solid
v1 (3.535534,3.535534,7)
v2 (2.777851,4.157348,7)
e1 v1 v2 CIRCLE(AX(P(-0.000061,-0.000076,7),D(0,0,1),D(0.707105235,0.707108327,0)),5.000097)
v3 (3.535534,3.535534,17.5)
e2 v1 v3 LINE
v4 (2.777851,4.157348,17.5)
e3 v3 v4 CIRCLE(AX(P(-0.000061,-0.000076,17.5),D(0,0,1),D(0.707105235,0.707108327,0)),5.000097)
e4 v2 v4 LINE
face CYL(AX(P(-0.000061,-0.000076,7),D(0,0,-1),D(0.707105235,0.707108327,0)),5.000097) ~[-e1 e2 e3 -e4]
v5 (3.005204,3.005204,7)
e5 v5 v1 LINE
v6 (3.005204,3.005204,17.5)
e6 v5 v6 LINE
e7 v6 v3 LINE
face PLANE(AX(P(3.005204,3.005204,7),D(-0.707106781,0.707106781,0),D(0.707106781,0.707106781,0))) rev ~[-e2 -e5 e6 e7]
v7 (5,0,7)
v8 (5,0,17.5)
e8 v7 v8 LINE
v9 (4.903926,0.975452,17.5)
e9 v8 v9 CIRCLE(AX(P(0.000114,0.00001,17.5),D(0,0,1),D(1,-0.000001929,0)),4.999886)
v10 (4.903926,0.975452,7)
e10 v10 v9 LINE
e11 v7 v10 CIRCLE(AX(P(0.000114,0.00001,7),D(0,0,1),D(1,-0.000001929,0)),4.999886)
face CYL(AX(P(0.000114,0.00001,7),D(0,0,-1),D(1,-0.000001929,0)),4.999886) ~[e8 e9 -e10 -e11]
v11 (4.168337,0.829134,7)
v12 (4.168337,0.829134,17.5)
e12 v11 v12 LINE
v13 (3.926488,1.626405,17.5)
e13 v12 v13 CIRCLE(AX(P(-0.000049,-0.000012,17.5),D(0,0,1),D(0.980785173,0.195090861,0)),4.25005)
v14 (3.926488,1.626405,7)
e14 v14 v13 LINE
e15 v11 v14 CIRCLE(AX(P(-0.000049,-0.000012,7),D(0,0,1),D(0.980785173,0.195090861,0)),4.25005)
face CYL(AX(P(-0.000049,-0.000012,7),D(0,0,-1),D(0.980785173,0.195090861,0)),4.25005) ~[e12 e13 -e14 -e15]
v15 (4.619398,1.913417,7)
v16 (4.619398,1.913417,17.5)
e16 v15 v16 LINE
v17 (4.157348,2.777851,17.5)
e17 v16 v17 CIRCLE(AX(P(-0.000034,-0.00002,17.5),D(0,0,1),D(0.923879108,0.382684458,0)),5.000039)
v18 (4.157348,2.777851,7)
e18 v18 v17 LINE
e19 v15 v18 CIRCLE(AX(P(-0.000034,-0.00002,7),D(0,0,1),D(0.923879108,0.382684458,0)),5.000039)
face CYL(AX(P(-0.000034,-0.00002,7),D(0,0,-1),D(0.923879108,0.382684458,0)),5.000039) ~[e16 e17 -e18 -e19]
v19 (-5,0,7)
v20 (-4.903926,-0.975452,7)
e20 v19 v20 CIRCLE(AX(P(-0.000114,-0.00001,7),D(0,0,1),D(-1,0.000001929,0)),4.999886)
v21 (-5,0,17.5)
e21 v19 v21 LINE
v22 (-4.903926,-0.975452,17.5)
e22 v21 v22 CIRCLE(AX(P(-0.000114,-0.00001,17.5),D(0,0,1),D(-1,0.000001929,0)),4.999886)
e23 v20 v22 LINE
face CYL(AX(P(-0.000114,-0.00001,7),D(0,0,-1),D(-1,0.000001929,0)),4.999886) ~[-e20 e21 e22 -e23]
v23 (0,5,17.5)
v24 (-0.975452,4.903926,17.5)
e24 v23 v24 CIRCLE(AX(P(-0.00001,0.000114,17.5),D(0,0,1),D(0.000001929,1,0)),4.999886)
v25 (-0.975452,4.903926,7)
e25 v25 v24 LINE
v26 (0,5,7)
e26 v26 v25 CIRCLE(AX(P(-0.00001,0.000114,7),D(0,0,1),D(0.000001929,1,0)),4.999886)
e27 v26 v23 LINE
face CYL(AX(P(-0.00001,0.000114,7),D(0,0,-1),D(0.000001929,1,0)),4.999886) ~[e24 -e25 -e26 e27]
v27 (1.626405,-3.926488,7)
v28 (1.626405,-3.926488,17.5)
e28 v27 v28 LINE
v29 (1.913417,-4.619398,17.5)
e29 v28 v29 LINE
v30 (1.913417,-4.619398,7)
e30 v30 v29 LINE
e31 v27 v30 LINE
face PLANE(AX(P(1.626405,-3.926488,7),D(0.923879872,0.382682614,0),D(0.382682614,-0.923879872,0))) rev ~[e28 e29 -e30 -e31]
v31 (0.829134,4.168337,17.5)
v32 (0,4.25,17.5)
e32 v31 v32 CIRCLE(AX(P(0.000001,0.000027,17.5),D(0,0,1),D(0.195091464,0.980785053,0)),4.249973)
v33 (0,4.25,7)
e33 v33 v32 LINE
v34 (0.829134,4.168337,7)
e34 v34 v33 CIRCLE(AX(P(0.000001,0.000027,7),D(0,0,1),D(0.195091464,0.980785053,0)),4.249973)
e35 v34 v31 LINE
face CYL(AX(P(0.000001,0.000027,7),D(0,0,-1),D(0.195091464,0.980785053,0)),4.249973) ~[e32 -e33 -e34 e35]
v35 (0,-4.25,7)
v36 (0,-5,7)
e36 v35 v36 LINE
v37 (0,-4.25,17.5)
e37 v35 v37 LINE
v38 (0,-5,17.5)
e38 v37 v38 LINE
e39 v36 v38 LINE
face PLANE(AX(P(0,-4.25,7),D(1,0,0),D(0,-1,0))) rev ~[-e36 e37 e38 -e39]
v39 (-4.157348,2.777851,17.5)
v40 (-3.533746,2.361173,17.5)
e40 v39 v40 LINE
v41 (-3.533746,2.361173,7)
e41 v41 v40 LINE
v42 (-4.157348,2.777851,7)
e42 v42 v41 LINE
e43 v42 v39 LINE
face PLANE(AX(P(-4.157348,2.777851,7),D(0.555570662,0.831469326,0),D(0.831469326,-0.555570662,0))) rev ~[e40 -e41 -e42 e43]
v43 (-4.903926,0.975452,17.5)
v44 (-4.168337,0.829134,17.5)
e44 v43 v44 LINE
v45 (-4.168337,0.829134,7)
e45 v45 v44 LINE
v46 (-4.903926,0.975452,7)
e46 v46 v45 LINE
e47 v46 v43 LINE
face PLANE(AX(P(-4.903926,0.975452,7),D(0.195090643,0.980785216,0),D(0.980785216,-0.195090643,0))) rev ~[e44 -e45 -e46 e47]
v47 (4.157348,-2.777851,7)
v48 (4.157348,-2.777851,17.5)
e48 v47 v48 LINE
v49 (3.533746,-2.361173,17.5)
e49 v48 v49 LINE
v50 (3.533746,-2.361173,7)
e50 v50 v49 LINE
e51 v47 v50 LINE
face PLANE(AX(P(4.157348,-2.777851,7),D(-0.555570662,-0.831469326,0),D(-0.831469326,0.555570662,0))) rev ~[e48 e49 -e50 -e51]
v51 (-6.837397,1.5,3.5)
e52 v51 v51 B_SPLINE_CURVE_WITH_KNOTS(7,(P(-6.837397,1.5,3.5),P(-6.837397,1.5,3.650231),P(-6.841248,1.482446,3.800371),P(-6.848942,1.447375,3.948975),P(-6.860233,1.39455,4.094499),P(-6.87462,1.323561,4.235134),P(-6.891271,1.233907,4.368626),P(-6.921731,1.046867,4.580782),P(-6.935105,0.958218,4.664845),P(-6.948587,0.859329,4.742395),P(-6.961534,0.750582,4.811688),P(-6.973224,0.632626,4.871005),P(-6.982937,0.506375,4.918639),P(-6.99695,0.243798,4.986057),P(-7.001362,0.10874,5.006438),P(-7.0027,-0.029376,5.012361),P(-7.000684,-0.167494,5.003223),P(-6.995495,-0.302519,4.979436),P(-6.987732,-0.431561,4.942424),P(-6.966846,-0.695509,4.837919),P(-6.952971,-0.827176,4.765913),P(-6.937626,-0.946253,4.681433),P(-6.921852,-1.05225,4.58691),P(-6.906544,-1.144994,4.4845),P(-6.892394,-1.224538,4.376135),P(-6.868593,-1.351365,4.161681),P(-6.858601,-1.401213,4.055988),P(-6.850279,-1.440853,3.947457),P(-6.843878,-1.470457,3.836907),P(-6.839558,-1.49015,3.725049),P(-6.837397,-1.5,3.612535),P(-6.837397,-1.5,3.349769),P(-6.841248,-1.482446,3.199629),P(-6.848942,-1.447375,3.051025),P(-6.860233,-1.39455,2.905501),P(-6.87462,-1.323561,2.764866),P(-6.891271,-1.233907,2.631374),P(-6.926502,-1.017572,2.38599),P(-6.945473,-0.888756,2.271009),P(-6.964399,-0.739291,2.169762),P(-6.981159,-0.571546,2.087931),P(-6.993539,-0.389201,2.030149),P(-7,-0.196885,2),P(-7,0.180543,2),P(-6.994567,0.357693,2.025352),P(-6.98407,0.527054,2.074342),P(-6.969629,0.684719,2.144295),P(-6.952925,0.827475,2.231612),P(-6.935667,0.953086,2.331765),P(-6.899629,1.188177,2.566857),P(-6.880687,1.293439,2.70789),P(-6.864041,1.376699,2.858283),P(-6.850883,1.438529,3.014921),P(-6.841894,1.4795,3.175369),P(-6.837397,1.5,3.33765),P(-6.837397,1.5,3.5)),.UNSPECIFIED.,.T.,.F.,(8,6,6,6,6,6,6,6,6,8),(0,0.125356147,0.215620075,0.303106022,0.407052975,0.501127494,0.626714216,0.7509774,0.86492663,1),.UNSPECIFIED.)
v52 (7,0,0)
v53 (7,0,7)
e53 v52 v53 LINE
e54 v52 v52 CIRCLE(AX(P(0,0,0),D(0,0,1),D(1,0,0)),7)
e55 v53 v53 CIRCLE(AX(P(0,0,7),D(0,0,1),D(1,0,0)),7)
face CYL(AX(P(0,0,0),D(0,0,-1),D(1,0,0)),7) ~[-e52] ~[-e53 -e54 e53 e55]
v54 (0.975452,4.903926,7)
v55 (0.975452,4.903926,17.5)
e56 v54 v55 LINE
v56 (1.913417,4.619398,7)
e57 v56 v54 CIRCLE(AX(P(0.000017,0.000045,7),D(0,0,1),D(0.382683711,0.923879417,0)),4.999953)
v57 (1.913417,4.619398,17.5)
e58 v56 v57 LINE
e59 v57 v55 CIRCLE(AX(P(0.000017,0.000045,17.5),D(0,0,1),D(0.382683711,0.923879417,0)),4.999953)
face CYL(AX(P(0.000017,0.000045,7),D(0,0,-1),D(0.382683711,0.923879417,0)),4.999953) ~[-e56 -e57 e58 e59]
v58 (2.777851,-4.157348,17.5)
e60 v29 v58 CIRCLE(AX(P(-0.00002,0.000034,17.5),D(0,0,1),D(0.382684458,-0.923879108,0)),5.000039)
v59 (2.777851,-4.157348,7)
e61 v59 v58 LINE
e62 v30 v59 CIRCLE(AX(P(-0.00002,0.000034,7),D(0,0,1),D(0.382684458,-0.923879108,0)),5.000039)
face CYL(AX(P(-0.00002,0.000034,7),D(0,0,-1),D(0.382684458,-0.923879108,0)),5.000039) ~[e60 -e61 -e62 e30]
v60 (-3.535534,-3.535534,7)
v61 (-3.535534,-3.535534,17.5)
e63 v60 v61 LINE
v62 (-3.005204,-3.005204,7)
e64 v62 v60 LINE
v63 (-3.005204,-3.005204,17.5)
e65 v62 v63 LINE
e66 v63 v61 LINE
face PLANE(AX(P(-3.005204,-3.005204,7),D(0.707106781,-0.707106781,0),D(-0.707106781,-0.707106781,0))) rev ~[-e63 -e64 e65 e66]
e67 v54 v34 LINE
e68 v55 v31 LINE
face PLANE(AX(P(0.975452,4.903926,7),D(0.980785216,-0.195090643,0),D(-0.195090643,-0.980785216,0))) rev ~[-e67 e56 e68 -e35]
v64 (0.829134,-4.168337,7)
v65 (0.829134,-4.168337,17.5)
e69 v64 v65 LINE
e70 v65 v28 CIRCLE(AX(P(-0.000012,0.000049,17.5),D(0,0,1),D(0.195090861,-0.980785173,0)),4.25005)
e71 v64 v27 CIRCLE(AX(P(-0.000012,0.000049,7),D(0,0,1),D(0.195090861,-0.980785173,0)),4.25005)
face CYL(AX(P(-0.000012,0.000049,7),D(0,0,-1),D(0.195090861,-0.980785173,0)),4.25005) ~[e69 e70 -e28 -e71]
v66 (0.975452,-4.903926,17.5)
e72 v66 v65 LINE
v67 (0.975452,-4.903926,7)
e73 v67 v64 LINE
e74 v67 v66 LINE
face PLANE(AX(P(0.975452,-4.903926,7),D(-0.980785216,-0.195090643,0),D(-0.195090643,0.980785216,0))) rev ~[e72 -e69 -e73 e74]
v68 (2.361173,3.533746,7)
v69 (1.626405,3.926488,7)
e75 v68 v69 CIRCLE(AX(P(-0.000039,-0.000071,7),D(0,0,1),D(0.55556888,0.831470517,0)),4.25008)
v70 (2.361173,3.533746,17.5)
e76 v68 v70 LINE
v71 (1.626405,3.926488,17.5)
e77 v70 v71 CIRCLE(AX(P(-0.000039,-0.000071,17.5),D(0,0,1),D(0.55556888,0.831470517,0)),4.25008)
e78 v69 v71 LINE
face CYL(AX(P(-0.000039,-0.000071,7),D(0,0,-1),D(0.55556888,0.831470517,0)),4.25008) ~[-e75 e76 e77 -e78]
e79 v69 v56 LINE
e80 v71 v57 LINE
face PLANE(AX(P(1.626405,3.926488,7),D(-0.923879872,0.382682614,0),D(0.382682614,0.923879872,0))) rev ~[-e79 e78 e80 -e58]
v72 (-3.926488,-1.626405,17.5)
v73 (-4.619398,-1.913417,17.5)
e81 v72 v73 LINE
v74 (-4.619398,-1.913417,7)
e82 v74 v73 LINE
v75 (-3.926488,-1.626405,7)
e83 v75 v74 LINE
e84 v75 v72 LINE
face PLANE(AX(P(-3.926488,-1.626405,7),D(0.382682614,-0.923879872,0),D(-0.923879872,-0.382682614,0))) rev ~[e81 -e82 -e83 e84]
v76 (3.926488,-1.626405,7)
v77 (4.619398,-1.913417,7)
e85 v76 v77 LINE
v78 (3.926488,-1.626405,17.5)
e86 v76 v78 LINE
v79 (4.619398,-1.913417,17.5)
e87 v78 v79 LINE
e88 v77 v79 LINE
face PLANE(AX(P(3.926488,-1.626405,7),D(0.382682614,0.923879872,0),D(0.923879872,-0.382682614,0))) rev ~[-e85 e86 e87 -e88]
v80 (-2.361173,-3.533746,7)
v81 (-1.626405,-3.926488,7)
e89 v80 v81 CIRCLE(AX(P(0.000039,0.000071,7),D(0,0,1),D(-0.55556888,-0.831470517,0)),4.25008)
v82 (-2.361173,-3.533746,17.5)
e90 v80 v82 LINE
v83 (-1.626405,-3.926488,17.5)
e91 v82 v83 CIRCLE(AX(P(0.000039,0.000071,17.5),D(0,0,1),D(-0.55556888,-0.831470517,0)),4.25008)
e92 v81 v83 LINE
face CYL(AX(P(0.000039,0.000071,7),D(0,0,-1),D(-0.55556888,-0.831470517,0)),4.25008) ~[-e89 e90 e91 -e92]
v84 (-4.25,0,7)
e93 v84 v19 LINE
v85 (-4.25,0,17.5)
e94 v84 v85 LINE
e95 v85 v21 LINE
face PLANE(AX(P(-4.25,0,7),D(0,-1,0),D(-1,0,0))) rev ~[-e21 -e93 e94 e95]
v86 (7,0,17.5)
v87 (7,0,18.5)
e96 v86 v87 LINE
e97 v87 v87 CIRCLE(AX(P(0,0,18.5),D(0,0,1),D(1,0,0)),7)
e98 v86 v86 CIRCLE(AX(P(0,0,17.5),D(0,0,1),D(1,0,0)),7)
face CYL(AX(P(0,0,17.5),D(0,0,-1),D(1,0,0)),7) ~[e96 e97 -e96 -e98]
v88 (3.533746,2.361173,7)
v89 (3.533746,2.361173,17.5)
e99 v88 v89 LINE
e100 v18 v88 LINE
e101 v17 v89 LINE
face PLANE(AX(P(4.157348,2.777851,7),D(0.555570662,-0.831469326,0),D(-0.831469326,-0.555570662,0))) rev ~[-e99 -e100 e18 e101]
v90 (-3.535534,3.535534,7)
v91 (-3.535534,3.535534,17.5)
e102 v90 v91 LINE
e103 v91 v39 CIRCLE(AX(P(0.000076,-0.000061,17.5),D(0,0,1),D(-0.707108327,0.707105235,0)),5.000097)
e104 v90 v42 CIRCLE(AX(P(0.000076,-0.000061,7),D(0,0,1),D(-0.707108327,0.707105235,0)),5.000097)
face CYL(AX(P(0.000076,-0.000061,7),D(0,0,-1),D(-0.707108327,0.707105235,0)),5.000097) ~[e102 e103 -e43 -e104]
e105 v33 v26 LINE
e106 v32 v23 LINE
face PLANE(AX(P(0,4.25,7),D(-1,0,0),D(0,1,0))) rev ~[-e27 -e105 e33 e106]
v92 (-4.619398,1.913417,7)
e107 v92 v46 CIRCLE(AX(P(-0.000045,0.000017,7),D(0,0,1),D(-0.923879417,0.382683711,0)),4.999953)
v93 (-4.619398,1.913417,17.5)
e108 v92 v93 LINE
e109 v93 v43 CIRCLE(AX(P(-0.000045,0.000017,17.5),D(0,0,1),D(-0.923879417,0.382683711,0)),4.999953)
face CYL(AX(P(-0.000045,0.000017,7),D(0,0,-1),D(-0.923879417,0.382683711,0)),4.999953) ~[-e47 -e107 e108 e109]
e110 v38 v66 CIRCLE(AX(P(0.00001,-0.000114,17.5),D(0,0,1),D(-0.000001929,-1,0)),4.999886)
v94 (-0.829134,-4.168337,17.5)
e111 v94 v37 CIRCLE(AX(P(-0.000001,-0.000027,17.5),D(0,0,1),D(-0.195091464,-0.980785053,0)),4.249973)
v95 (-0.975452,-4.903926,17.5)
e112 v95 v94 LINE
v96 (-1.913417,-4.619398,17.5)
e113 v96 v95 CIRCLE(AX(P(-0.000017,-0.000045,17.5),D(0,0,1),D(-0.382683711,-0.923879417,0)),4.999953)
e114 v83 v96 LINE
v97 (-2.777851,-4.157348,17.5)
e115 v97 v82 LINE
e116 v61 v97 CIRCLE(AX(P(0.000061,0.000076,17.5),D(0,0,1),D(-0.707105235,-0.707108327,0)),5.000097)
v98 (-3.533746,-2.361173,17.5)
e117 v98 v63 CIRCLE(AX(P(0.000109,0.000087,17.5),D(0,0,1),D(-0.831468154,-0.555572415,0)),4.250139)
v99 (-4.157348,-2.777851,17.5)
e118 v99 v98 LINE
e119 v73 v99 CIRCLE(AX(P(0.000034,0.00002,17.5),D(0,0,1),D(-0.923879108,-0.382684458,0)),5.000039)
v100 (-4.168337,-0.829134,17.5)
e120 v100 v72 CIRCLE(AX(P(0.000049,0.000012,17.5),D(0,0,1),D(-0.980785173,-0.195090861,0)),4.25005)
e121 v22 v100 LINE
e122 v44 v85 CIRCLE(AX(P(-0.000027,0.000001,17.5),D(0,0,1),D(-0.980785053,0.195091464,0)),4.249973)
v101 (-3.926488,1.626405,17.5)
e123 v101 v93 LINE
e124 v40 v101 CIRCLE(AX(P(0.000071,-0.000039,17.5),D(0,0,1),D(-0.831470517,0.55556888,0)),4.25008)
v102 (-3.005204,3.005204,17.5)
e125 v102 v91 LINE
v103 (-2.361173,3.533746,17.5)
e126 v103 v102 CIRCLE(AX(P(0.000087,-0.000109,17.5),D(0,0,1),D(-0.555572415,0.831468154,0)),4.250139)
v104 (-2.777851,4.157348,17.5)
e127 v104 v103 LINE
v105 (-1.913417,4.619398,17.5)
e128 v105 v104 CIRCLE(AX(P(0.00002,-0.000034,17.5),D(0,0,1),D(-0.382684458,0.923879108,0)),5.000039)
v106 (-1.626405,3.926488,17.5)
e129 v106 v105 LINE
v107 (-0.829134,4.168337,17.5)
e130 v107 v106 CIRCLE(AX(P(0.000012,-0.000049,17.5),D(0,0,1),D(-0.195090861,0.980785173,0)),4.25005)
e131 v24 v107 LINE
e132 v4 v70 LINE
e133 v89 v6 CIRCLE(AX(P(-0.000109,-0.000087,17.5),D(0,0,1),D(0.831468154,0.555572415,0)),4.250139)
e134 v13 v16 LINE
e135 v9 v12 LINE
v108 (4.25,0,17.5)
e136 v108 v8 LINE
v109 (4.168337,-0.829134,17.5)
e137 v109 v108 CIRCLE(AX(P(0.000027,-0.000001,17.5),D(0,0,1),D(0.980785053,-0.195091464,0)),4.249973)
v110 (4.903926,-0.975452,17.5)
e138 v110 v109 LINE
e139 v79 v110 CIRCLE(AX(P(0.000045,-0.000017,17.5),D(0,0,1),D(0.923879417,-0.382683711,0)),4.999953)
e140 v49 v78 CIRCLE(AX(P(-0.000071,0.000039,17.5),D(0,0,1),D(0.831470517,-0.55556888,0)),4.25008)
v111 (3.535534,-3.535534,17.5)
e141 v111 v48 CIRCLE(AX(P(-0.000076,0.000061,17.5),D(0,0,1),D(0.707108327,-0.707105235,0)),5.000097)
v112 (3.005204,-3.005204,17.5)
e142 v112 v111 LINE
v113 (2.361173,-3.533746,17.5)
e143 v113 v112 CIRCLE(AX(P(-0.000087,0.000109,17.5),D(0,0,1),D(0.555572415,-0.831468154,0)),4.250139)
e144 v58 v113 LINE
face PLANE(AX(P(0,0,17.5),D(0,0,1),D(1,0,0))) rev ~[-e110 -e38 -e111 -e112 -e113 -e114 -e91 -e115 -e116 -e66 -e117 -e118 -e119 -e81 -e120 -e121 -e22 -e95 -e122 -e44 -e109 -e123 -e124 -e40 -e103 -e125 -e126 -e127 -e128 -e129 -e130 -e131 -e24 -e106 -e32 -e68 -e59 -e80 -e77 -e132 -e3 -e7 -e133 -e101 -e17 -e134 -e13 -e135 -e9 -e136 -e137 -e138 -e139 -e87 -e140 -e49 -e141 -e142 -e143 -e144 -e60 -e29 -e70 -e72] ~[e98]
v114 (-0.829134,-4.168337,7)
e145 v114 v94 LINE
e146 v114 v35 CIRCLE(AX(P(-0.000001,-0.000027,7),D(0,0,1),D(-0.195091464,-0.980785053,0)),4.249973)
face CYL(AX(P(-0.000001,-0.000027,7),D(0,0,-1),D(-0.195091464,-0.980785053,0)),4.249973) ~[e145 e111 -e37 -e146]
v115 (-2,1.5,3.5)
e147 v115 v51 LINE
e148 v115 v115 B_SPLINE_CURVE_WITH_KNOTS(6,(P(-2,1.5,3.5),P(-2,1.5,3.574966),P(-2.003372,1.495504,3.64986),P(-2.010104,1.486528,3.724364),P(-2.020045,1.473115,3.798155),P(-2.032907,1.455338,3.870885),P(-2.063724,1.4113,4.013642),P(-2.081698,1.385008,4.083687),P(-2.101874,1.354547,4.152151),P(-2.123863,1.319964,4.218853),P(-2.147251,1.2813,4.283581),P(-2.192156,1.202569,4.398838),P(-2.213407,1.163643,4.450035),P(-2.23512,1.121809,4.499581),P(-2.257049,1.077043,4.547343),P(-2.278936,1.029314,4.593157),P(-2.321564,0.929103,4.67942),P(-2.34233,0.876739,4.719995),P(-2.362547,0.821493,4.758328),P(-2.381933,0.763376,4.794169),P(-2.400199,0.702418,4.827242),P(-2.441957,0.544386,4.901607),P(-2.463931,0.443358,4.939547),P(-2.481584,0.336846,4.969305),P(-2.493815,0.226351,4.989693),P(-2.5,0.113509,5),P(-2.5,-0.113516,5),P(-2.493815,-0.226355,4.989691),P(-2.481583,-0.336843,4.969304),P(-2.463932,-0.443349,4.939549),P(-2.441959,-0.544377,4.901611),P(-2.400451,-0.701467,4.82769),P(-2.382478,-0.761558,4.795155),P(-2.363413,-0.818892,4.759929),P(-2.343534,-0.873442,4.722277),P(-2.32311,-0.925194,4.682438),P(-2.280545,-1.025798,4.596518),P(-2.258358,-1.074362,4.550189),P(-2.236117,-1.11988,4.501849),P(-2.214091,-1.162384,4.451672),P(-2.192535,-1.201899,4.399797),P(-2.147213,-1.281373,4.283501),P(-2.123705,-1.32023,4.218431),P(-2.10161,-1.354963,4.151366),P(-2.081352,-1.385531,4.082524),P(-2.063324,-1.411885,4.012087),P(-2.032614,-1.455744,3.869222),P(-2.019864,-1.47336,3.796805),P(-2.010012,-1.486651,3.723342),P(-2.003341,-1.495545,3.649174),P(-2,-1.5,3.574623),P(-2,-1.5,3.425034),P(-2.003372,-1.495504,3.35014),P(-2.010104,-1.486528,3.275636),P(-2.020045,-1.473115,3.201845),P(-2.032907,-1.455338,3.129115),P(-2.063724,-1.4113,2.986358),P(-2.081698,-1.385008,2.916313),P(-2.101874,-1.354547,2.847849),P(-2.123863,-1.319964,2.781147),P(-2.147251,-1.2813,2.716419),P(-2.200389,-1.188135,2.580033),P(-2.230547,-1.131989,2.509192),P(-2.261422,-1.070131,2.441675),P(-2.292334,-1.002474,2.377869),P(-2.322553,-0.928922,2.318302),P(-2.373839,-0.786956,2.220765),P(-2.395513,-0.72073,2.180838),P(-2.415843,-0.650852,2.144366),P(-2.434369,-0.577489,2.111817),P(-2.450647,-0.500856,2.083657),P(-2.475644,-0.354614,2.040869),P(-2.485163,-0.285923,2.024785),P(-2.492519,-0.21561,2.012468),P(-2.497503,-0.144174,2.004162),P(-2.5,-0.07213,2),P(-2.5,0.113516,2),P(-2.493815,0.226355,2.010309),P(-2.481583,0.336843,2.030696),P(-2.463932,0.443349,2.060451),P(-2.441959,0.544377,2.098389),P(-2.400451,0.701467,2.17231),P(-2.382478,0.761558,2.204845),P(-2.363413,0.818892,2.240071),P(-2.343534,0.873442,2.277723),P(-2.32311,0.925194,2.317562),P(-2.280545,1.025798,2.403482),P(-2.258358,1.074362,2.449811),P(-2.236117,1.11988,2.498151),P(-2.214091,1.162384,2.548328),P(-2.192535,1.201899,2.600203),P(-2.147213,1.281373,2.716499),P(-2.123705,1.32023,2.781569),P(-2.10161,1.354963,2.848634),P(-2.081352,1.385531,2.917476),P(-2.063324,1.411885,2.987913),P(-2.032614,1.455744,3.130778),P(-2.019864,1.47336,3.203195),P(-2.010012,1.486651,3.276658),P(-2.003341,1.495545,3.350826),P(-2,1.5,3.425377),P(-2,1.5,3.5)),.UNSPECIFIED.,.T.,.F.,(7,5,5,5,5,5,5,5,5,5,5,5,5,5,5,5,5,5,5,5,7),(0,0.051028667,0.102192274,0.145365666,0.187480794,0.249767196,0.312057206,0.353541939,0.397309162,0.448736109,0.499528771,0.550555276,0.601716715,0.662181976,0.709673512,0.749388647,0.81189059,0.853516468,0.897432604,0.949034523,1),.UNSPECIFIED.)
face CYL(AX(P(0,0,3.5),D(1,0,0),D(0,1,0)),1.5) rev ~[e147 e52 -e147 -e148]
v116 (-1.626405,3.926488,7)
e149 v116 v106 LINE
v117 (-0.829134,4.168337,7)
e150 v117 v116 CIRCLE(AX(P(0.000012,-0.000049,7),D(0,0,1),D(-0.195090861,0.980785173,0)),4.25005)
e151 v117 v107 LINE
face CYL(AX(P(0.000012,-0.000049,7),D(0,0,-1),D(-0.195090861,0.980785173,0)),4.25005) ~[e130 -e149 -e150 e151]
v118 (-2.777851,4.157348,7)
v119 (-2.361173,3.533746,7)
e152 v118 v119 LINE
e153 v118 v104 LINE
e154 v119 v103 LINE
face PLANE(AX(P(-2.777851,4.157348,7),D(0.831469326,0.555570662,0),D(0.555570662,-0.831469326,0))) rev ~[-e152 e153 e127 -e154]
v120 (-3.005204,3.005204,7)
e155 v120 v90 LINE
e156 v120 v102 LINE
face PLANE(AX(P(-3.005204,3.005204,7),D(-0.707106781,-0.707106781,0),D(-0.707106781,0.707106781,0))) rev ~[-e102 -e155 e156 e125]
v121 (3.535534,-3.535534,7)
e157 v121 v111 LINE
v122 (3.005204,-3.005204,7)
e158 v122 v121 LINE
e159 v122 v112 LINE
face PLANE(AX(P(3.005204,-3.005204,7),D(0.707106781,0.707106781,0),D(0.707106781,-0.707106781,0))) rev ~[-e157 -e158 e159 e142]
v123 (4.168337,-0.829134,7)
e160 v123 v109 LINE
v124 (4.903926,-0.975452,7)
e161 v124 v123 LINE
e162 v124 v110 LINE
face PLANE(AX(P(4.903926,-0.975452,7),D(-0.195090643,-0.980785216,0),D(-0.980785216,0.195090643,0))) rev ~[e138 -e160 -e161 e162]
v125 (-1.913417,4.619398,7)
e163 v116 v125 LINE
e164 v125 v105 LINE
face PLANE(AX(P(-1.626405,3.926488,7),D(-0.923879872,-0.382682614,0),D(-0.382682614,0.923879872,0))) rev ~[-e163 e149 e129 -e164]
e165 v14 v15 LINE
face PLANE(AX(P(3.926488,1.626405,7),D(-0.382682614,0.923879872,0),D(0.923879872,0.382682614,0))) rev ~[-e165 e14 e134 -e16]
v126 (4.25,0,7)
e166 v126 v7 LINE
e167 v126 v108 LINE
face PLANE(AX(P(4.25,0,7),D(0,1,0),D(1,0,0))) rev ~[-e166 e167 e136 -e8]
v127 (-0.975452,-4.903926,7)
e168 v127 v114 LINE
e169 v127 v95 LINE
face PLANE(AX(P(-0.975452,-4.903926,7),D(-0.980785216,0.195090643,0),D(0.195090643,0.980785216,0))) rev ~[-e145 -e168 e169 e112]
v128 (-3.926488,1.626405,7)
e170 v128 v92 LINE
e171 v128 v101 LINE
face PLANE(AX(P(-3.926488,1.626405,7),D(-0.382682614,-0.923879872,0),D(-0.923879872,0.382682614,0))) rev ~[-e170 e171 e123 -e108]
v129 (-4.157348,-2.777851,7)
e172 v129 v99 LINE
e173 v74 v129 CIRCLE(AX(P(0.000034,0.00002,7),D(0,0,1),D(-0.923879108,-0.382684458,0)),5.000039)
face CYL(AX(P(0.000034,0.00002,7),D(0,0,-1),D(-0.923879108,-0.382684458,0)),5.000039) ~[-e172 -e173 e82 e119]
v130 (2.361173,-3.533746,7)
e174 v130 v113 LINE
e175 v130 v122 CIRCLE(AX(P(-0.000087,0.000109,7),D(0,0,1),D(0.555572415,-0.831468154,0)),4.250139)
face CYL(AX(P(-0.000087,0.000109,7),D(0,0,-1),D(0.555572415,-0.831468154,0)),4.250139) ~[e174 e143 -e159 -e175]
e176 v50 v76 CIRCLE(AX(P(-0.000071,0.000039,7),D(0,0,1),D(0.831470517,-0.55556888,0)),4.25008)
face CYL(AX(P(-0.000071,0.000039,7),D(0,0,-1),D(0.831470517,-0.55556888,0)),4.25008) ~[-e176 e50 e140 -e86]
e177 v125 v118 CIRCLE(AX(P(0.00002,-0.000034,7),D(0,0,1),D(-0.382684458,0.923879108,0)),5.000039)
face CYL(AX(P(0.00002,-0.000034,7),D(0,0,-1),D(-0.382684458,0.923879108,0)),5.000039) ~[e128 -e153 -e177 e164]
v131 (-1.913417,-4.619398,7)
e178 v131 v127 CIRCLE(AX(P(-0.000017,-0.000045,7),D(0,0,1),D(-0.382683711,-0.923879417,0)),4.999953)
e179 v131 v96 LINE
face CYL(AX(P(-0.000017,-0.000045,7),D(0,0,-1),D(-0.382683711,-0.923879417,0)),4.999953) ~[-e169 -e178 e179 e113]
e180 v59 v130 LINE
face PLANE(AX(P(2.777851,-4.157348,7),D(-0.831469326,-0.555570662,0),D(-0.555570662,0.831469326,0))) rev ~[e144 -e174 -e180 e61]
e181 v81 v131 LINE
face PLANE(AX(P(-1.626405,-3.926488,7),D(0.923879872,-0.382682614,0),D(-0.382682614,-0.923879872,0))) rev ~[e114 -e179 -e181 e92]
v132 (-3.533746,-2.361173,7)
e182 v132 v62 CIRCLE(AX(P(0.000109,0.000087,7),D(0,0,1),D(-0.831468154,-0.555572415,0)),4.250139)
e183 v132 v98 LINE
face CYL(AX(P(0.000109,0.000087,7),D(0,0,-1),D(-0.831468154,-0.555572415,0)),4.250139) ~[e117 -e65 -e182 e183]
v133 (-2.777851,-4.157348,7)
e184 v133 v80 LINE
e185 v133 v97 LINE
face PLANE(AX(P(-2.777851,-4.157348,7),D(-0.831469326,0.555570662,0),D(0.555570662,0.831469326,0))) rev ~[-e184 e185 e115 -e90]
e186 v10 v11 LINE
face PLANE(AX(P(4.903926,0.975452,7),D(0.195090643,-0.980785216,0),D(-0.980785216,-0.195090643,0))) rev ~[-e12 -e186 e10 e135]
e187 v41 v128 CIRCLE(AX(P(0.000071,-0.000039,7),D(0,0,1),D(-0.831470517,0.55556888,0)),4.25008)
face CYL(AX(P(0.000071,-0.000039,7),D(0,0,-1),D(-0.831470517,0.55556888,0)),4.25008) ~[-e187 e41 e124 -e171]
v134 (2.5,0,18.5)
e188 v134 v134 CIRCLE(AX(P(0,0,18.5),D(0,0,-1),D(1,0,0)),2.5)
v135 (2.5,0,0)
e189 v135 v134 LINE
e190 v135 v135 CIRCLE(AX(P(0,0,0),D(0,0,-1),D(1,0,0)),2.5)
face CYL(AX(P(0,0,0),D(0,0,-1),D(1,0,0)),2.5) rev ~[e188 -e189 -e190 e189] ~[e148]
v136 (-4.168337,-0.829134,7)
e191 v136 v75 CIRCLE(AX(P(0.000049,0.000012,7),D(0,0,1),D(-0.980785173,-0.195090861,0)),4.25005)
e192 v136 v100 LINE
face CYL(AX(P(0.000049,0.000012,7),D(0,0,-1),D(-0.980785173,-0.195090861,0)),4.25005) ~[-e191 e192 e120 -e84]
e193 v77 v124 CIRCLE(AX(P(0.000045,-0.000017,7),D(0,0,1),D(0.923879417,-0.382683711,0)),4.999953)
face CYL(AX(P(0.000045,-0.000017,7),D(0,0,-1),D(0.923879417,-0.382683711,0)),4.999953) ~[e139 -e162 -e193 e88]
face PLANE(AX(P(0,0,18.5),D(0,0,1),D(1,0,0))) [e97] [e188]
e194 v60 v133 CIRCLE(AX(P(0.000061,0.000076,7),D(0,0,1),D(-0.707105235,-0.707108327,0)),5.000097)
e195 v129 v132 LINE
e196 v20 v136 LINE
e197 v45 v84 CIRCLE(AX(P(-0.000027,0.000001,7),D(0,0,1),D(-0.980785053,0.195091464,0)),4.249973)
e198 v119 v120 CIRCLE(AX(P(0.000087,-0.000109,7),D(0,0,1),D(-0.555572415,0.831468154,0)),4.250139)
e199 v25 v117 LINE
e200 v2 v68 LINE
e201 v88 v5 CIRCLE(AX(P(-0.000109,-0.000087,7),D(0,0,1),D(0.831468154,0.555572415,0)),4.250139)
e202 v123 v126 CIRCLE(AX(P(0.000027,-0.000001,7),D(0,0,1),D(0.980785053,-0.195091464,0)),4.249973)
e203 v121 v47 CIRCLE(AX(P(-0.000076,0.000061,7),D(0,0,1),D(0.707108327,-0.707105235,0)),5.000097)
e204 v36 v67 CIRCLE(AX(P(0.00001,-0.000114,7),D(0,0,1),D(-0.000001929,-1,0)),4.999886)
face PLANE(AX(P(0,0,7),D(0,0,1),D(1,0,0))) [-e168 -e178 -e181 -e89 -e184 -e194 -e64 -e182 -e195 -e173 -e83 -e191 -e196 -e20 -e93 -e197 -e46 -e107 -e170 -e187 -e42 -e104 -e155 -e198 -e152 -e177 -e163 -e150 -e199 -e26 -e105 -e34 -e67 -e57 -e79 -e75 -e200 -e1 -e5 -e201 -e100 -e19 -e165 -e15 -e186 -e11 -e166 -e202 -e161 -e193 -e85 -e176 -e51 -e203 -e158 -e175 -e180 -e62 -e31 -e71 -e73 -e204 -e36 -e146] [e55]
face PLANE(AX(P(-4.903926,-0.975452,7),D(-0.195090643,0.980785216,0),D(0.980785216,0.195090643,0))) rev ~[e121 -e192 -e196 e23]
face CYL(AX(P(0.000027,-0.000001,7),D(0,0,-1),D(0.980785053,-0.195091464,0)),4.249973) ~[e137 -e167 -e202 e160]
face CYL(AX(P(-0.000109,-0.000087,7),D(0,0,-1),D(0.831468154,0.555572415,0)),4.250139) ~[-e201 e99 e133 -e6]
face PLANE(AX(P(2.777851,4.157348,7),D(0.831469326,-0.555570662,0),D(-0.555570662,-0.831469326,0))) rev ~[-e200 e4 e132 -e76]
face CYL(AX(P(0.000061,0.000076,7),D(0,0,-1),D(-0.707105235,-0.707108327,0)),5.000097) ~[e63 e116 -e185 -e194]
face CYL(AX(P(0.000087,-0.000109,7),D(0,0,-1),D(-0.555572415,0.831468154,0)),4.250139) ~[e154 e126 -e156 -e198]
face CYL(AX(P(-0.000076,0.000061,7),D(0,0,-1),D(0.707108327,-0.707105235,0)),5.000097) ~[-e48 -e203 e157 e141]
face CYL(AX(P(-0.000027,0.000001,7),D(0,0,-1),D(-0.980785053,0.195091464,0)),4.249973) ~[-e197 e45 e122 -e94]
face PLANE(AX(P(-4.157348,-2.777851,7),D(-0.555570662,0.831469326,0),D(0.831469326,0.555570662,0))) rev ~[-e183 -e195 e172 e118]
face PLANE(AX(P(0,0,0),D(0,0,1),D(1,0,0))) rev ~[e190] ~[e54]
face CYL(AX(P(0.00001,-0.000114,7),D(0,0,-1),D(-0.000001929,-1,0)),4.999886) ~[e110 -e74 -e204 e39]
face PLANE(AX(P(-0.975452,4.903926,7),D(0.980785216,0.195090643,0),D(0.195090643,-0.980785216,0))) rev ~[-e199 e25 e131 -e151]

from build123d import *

# Parameters (mm, degrees)
F0_R     = 7
F1_DEPTH = 7
F3_DEPTH = 10.5
F4_R     = 7
F5_DEPTH = 1
F6_R     = 2.5
F7_DEPTH = 18.501
F8_R     = 1.5
F9_DEPTH = 25


with BuildPart() as f1:
    # F0 (on Top) → F1 (new body)
    with BuildSketch(Plane.XY):
        Circle(F0_R)
    extrude(amount=F1_DEPTH)

    # F2 (on face) → F3 (join)
    with BuildSketch(Plane.XY.offset(7)):
        with BuildLine():
            ThreePointArc((0.829134, 4.168337), (0.416573, 4.229535), (0, 4.25))
            Line((0, 4.25), (0, 5))
            ThreePointArc((0, 5), (-0.490086, 4.975924), (-0.975452, 4.903926))
            Line((-0.975452, 4.903926), (-0.829134, 4.168337))
            ThreePointArc((-0.829134, 4.168337), (-1.23371, 4.066996), (-1.626405, 3.926488))
            Line((-1.626405, 3.926488), (-1.913417, 4.619398))
            ThreePointArc((-1.913417, 4.619398), (-2.356984, 4.409606), (-2.777851, 4.157348))
            Line((-2.777851, 4.157348), (-2.361173, 3.533746))
            ThreePointArc((-2.361173, 3.533746), (-2.696171, 3.285294), (-3.005204, 3.005204))
            Line((-3.005204, 3.005204), (-3.535534, 3.535534))
            ThreePointArc((-3.535534, 3.535534), (-3.865052, 3.171966), (-4.157348, 2.777851))
            Line((-4.157348, 2.777851), (-3.533746, 2.361173))
            ThreePointArc((-3.533746, 2.361173), (-3.748165, 2.003436), (-3.926488, 1.626405))
            Line((-3.926488, 1.626405), (-4.619398, 1.913417))
            ThreePointArc((-4.619398, 1.913417), (-4.784702, 1.451423), (-4.903926, 0.975452))
            Line((-4.903926, 0.975452), (-4.168337, 0.829134))
            ThreePointArc((-4.168337, 0.829134), (-4.229535, 0.416573), (-4.25, 0))
            Line((-4.25, 0), (-5, 0))
            ThreePointArc((-5, 0), (-4.975924, -0.490086), (-4.903926, -0.975452))
            Line((-4.903926, -0.975452), (-4.168337, -0.829134))
            ThreePointArc((-4.168337, -0.829134), (-4.066996, -1.23371), (-3.926488, -1.626405))
            Line((-3.926488, -1.626405), (-4.619398, -1.913417))
            ThreePointArc((-4.619398, -1.913417), (-4.409606, -2.356984), (-4.157348, -2.777851))
            Line((-4.157348, -2.777851), (-3.533746, -2.361173))
            ThreePointArc((-3.533746, -2.361173), (-3.285294, -2.696171), (-3.005204, -3.005204))
            Line((-3.005204, -3.005204), (-3.535534, -3.535534))
            ThreePointArc((-3.535534, -3.535534), (-3.171966, -3.865052), (-2.777851, -4.157348))
            Line((-2.777851, -4.157348), (-2.361173, -3.533746))
            ThreePointArc((-2.361173, -3.533746), (-2.003436, -3.748165), (-1.626405, -3.926488))
            Line((-1.626405, -3.926488), (-1.913417, -4.619398))
            ThreePointArc((-1.913417, -4.619398), (-1.451423, -4.784702), (-0.975452, -4.903926))
            Line((-0.975452, -4.903926), (-0.829134, -4.168337))
            ThreePointArc((-0.829134, -4.168337), (-0.416573, -4.229535), (0, -4.25))
            Line((0, -4.25), (0, -5))
            ThreePointArc((0, -5), (0.490086, -4.975924), (0.975452, -4.903926))
            Line((0.975452, -4.903926), (0.829134, -4.168337))
            ThreePointArc((0.829134, -4.168337), (1.23371, -4.066996), (1.626405, -3.926488))
            Line((1.626405, -3.926488), (1.913417, -4.619398))
            ThreePointArc((1.913417, -4.619398), (2.356984, -4.409606), (2.777851, -4.157348))
            Line((2.777851, -4.157348), (2.361173, -3.533746))
            ThreePointArc((2.361173, -3.533746), (2.696171, -3.285294), (3.005204, -3.005204))
            Line((3.005204, -3.005204), (3.535534, -3.535534))
            ThreePointArc((3.535534, -3.535534), (3.865052, -3.171966), (4.157348, -2.777851))
            Line((4.157348, -2.777851), (3.533746, -2.361173))
            ThreePointArc((3.533746, -2.361173), (3.748165, -2.003436), (3.926488, -1.626405))
            Line((3.926488, -1.626405), (4.619398, -1.913417))
            ThreePointArc((4.619398, -1.913417), (4.784702, -1.451423), (4.903926, -0.975452))
            Line((4.903926, -0.975452), (4.168337, -0.829134))
            ThreePointArc((4.168337, -0.829134), (4.229535, -0.416573), (4.25, 0))
            Line((4.25, 0), (5, 0))
            ThreePointArc((5, 0), (4.975924, 0.490086), (4.903926, 0.975452))
            Line((4.903926, 0.975452), (4.168337, 0.829134))
            ThreePointArc((4.168337, 0.829134), (4.066996, 1.23371), (3.926488, 1.626405))
            Line((3.926488, 1.626405), (4.619398, 1.913417))
            ThreePointArc((4.619398, 1.913417), (4.409606, 2.356984), (4.157348, 2.777851))
            Line((4.157348, 2.777851), (3.533746, 2.361173))
            ThreePointArc((3.533746, 2.361173), (3.285294, 2.696171), (3.005204, 3.005204))
            Line((3.005204, 3.005204), (3.535534, 3.535534))
            ThreePointArc((3.535534, 3.535534), (3.171966, 3.865052), (2.777851, 4.157348))
            Line((2.777851, 4.157348), (2.361173, 3.533746))
            ThreePointArc((2.361173, 3.533746), (2.003436, 3.748165), (1.626405, 3.926488))
            Line((1.626405, 3.926488), (1.913417, 4.619398))
            ThreePointArc((1.913417, 4.619398), (1.451423, 4.784702), (0.975452, 4.903926))
            Line((0.975452, 4.903926), (0.829134, 4.168337))
        make_face()
    extrude(amount=F3_DEPTH)

    # F4 (on face) → F5 (join)
    with BuildSketch(Plane.XY.offset(17.5)):
        Circle(F4_R)
    extrude(amount=F5_DEPTH)

    # F6 (on face) → F7 (cut, through all)
    with BuildSketch(Plane(origin=(0, 0, 0), x_dir=(1, 0, 0), z_dir=(0, 0, -1))):
        Circle(F6_R)
    extrude(amount=-F7_DEPTH, mode=Mode.SUBTRACT)

    # F8 (on Right) → F9 (cut)
    with BuildSketch(Plane.YZ):
        with Locations((0, 3.5)):
            Circle(F8_R)
    extrude(amount=-F9_DEPTH, mode=Mode.SUBTRACT)


solid = f1.part
